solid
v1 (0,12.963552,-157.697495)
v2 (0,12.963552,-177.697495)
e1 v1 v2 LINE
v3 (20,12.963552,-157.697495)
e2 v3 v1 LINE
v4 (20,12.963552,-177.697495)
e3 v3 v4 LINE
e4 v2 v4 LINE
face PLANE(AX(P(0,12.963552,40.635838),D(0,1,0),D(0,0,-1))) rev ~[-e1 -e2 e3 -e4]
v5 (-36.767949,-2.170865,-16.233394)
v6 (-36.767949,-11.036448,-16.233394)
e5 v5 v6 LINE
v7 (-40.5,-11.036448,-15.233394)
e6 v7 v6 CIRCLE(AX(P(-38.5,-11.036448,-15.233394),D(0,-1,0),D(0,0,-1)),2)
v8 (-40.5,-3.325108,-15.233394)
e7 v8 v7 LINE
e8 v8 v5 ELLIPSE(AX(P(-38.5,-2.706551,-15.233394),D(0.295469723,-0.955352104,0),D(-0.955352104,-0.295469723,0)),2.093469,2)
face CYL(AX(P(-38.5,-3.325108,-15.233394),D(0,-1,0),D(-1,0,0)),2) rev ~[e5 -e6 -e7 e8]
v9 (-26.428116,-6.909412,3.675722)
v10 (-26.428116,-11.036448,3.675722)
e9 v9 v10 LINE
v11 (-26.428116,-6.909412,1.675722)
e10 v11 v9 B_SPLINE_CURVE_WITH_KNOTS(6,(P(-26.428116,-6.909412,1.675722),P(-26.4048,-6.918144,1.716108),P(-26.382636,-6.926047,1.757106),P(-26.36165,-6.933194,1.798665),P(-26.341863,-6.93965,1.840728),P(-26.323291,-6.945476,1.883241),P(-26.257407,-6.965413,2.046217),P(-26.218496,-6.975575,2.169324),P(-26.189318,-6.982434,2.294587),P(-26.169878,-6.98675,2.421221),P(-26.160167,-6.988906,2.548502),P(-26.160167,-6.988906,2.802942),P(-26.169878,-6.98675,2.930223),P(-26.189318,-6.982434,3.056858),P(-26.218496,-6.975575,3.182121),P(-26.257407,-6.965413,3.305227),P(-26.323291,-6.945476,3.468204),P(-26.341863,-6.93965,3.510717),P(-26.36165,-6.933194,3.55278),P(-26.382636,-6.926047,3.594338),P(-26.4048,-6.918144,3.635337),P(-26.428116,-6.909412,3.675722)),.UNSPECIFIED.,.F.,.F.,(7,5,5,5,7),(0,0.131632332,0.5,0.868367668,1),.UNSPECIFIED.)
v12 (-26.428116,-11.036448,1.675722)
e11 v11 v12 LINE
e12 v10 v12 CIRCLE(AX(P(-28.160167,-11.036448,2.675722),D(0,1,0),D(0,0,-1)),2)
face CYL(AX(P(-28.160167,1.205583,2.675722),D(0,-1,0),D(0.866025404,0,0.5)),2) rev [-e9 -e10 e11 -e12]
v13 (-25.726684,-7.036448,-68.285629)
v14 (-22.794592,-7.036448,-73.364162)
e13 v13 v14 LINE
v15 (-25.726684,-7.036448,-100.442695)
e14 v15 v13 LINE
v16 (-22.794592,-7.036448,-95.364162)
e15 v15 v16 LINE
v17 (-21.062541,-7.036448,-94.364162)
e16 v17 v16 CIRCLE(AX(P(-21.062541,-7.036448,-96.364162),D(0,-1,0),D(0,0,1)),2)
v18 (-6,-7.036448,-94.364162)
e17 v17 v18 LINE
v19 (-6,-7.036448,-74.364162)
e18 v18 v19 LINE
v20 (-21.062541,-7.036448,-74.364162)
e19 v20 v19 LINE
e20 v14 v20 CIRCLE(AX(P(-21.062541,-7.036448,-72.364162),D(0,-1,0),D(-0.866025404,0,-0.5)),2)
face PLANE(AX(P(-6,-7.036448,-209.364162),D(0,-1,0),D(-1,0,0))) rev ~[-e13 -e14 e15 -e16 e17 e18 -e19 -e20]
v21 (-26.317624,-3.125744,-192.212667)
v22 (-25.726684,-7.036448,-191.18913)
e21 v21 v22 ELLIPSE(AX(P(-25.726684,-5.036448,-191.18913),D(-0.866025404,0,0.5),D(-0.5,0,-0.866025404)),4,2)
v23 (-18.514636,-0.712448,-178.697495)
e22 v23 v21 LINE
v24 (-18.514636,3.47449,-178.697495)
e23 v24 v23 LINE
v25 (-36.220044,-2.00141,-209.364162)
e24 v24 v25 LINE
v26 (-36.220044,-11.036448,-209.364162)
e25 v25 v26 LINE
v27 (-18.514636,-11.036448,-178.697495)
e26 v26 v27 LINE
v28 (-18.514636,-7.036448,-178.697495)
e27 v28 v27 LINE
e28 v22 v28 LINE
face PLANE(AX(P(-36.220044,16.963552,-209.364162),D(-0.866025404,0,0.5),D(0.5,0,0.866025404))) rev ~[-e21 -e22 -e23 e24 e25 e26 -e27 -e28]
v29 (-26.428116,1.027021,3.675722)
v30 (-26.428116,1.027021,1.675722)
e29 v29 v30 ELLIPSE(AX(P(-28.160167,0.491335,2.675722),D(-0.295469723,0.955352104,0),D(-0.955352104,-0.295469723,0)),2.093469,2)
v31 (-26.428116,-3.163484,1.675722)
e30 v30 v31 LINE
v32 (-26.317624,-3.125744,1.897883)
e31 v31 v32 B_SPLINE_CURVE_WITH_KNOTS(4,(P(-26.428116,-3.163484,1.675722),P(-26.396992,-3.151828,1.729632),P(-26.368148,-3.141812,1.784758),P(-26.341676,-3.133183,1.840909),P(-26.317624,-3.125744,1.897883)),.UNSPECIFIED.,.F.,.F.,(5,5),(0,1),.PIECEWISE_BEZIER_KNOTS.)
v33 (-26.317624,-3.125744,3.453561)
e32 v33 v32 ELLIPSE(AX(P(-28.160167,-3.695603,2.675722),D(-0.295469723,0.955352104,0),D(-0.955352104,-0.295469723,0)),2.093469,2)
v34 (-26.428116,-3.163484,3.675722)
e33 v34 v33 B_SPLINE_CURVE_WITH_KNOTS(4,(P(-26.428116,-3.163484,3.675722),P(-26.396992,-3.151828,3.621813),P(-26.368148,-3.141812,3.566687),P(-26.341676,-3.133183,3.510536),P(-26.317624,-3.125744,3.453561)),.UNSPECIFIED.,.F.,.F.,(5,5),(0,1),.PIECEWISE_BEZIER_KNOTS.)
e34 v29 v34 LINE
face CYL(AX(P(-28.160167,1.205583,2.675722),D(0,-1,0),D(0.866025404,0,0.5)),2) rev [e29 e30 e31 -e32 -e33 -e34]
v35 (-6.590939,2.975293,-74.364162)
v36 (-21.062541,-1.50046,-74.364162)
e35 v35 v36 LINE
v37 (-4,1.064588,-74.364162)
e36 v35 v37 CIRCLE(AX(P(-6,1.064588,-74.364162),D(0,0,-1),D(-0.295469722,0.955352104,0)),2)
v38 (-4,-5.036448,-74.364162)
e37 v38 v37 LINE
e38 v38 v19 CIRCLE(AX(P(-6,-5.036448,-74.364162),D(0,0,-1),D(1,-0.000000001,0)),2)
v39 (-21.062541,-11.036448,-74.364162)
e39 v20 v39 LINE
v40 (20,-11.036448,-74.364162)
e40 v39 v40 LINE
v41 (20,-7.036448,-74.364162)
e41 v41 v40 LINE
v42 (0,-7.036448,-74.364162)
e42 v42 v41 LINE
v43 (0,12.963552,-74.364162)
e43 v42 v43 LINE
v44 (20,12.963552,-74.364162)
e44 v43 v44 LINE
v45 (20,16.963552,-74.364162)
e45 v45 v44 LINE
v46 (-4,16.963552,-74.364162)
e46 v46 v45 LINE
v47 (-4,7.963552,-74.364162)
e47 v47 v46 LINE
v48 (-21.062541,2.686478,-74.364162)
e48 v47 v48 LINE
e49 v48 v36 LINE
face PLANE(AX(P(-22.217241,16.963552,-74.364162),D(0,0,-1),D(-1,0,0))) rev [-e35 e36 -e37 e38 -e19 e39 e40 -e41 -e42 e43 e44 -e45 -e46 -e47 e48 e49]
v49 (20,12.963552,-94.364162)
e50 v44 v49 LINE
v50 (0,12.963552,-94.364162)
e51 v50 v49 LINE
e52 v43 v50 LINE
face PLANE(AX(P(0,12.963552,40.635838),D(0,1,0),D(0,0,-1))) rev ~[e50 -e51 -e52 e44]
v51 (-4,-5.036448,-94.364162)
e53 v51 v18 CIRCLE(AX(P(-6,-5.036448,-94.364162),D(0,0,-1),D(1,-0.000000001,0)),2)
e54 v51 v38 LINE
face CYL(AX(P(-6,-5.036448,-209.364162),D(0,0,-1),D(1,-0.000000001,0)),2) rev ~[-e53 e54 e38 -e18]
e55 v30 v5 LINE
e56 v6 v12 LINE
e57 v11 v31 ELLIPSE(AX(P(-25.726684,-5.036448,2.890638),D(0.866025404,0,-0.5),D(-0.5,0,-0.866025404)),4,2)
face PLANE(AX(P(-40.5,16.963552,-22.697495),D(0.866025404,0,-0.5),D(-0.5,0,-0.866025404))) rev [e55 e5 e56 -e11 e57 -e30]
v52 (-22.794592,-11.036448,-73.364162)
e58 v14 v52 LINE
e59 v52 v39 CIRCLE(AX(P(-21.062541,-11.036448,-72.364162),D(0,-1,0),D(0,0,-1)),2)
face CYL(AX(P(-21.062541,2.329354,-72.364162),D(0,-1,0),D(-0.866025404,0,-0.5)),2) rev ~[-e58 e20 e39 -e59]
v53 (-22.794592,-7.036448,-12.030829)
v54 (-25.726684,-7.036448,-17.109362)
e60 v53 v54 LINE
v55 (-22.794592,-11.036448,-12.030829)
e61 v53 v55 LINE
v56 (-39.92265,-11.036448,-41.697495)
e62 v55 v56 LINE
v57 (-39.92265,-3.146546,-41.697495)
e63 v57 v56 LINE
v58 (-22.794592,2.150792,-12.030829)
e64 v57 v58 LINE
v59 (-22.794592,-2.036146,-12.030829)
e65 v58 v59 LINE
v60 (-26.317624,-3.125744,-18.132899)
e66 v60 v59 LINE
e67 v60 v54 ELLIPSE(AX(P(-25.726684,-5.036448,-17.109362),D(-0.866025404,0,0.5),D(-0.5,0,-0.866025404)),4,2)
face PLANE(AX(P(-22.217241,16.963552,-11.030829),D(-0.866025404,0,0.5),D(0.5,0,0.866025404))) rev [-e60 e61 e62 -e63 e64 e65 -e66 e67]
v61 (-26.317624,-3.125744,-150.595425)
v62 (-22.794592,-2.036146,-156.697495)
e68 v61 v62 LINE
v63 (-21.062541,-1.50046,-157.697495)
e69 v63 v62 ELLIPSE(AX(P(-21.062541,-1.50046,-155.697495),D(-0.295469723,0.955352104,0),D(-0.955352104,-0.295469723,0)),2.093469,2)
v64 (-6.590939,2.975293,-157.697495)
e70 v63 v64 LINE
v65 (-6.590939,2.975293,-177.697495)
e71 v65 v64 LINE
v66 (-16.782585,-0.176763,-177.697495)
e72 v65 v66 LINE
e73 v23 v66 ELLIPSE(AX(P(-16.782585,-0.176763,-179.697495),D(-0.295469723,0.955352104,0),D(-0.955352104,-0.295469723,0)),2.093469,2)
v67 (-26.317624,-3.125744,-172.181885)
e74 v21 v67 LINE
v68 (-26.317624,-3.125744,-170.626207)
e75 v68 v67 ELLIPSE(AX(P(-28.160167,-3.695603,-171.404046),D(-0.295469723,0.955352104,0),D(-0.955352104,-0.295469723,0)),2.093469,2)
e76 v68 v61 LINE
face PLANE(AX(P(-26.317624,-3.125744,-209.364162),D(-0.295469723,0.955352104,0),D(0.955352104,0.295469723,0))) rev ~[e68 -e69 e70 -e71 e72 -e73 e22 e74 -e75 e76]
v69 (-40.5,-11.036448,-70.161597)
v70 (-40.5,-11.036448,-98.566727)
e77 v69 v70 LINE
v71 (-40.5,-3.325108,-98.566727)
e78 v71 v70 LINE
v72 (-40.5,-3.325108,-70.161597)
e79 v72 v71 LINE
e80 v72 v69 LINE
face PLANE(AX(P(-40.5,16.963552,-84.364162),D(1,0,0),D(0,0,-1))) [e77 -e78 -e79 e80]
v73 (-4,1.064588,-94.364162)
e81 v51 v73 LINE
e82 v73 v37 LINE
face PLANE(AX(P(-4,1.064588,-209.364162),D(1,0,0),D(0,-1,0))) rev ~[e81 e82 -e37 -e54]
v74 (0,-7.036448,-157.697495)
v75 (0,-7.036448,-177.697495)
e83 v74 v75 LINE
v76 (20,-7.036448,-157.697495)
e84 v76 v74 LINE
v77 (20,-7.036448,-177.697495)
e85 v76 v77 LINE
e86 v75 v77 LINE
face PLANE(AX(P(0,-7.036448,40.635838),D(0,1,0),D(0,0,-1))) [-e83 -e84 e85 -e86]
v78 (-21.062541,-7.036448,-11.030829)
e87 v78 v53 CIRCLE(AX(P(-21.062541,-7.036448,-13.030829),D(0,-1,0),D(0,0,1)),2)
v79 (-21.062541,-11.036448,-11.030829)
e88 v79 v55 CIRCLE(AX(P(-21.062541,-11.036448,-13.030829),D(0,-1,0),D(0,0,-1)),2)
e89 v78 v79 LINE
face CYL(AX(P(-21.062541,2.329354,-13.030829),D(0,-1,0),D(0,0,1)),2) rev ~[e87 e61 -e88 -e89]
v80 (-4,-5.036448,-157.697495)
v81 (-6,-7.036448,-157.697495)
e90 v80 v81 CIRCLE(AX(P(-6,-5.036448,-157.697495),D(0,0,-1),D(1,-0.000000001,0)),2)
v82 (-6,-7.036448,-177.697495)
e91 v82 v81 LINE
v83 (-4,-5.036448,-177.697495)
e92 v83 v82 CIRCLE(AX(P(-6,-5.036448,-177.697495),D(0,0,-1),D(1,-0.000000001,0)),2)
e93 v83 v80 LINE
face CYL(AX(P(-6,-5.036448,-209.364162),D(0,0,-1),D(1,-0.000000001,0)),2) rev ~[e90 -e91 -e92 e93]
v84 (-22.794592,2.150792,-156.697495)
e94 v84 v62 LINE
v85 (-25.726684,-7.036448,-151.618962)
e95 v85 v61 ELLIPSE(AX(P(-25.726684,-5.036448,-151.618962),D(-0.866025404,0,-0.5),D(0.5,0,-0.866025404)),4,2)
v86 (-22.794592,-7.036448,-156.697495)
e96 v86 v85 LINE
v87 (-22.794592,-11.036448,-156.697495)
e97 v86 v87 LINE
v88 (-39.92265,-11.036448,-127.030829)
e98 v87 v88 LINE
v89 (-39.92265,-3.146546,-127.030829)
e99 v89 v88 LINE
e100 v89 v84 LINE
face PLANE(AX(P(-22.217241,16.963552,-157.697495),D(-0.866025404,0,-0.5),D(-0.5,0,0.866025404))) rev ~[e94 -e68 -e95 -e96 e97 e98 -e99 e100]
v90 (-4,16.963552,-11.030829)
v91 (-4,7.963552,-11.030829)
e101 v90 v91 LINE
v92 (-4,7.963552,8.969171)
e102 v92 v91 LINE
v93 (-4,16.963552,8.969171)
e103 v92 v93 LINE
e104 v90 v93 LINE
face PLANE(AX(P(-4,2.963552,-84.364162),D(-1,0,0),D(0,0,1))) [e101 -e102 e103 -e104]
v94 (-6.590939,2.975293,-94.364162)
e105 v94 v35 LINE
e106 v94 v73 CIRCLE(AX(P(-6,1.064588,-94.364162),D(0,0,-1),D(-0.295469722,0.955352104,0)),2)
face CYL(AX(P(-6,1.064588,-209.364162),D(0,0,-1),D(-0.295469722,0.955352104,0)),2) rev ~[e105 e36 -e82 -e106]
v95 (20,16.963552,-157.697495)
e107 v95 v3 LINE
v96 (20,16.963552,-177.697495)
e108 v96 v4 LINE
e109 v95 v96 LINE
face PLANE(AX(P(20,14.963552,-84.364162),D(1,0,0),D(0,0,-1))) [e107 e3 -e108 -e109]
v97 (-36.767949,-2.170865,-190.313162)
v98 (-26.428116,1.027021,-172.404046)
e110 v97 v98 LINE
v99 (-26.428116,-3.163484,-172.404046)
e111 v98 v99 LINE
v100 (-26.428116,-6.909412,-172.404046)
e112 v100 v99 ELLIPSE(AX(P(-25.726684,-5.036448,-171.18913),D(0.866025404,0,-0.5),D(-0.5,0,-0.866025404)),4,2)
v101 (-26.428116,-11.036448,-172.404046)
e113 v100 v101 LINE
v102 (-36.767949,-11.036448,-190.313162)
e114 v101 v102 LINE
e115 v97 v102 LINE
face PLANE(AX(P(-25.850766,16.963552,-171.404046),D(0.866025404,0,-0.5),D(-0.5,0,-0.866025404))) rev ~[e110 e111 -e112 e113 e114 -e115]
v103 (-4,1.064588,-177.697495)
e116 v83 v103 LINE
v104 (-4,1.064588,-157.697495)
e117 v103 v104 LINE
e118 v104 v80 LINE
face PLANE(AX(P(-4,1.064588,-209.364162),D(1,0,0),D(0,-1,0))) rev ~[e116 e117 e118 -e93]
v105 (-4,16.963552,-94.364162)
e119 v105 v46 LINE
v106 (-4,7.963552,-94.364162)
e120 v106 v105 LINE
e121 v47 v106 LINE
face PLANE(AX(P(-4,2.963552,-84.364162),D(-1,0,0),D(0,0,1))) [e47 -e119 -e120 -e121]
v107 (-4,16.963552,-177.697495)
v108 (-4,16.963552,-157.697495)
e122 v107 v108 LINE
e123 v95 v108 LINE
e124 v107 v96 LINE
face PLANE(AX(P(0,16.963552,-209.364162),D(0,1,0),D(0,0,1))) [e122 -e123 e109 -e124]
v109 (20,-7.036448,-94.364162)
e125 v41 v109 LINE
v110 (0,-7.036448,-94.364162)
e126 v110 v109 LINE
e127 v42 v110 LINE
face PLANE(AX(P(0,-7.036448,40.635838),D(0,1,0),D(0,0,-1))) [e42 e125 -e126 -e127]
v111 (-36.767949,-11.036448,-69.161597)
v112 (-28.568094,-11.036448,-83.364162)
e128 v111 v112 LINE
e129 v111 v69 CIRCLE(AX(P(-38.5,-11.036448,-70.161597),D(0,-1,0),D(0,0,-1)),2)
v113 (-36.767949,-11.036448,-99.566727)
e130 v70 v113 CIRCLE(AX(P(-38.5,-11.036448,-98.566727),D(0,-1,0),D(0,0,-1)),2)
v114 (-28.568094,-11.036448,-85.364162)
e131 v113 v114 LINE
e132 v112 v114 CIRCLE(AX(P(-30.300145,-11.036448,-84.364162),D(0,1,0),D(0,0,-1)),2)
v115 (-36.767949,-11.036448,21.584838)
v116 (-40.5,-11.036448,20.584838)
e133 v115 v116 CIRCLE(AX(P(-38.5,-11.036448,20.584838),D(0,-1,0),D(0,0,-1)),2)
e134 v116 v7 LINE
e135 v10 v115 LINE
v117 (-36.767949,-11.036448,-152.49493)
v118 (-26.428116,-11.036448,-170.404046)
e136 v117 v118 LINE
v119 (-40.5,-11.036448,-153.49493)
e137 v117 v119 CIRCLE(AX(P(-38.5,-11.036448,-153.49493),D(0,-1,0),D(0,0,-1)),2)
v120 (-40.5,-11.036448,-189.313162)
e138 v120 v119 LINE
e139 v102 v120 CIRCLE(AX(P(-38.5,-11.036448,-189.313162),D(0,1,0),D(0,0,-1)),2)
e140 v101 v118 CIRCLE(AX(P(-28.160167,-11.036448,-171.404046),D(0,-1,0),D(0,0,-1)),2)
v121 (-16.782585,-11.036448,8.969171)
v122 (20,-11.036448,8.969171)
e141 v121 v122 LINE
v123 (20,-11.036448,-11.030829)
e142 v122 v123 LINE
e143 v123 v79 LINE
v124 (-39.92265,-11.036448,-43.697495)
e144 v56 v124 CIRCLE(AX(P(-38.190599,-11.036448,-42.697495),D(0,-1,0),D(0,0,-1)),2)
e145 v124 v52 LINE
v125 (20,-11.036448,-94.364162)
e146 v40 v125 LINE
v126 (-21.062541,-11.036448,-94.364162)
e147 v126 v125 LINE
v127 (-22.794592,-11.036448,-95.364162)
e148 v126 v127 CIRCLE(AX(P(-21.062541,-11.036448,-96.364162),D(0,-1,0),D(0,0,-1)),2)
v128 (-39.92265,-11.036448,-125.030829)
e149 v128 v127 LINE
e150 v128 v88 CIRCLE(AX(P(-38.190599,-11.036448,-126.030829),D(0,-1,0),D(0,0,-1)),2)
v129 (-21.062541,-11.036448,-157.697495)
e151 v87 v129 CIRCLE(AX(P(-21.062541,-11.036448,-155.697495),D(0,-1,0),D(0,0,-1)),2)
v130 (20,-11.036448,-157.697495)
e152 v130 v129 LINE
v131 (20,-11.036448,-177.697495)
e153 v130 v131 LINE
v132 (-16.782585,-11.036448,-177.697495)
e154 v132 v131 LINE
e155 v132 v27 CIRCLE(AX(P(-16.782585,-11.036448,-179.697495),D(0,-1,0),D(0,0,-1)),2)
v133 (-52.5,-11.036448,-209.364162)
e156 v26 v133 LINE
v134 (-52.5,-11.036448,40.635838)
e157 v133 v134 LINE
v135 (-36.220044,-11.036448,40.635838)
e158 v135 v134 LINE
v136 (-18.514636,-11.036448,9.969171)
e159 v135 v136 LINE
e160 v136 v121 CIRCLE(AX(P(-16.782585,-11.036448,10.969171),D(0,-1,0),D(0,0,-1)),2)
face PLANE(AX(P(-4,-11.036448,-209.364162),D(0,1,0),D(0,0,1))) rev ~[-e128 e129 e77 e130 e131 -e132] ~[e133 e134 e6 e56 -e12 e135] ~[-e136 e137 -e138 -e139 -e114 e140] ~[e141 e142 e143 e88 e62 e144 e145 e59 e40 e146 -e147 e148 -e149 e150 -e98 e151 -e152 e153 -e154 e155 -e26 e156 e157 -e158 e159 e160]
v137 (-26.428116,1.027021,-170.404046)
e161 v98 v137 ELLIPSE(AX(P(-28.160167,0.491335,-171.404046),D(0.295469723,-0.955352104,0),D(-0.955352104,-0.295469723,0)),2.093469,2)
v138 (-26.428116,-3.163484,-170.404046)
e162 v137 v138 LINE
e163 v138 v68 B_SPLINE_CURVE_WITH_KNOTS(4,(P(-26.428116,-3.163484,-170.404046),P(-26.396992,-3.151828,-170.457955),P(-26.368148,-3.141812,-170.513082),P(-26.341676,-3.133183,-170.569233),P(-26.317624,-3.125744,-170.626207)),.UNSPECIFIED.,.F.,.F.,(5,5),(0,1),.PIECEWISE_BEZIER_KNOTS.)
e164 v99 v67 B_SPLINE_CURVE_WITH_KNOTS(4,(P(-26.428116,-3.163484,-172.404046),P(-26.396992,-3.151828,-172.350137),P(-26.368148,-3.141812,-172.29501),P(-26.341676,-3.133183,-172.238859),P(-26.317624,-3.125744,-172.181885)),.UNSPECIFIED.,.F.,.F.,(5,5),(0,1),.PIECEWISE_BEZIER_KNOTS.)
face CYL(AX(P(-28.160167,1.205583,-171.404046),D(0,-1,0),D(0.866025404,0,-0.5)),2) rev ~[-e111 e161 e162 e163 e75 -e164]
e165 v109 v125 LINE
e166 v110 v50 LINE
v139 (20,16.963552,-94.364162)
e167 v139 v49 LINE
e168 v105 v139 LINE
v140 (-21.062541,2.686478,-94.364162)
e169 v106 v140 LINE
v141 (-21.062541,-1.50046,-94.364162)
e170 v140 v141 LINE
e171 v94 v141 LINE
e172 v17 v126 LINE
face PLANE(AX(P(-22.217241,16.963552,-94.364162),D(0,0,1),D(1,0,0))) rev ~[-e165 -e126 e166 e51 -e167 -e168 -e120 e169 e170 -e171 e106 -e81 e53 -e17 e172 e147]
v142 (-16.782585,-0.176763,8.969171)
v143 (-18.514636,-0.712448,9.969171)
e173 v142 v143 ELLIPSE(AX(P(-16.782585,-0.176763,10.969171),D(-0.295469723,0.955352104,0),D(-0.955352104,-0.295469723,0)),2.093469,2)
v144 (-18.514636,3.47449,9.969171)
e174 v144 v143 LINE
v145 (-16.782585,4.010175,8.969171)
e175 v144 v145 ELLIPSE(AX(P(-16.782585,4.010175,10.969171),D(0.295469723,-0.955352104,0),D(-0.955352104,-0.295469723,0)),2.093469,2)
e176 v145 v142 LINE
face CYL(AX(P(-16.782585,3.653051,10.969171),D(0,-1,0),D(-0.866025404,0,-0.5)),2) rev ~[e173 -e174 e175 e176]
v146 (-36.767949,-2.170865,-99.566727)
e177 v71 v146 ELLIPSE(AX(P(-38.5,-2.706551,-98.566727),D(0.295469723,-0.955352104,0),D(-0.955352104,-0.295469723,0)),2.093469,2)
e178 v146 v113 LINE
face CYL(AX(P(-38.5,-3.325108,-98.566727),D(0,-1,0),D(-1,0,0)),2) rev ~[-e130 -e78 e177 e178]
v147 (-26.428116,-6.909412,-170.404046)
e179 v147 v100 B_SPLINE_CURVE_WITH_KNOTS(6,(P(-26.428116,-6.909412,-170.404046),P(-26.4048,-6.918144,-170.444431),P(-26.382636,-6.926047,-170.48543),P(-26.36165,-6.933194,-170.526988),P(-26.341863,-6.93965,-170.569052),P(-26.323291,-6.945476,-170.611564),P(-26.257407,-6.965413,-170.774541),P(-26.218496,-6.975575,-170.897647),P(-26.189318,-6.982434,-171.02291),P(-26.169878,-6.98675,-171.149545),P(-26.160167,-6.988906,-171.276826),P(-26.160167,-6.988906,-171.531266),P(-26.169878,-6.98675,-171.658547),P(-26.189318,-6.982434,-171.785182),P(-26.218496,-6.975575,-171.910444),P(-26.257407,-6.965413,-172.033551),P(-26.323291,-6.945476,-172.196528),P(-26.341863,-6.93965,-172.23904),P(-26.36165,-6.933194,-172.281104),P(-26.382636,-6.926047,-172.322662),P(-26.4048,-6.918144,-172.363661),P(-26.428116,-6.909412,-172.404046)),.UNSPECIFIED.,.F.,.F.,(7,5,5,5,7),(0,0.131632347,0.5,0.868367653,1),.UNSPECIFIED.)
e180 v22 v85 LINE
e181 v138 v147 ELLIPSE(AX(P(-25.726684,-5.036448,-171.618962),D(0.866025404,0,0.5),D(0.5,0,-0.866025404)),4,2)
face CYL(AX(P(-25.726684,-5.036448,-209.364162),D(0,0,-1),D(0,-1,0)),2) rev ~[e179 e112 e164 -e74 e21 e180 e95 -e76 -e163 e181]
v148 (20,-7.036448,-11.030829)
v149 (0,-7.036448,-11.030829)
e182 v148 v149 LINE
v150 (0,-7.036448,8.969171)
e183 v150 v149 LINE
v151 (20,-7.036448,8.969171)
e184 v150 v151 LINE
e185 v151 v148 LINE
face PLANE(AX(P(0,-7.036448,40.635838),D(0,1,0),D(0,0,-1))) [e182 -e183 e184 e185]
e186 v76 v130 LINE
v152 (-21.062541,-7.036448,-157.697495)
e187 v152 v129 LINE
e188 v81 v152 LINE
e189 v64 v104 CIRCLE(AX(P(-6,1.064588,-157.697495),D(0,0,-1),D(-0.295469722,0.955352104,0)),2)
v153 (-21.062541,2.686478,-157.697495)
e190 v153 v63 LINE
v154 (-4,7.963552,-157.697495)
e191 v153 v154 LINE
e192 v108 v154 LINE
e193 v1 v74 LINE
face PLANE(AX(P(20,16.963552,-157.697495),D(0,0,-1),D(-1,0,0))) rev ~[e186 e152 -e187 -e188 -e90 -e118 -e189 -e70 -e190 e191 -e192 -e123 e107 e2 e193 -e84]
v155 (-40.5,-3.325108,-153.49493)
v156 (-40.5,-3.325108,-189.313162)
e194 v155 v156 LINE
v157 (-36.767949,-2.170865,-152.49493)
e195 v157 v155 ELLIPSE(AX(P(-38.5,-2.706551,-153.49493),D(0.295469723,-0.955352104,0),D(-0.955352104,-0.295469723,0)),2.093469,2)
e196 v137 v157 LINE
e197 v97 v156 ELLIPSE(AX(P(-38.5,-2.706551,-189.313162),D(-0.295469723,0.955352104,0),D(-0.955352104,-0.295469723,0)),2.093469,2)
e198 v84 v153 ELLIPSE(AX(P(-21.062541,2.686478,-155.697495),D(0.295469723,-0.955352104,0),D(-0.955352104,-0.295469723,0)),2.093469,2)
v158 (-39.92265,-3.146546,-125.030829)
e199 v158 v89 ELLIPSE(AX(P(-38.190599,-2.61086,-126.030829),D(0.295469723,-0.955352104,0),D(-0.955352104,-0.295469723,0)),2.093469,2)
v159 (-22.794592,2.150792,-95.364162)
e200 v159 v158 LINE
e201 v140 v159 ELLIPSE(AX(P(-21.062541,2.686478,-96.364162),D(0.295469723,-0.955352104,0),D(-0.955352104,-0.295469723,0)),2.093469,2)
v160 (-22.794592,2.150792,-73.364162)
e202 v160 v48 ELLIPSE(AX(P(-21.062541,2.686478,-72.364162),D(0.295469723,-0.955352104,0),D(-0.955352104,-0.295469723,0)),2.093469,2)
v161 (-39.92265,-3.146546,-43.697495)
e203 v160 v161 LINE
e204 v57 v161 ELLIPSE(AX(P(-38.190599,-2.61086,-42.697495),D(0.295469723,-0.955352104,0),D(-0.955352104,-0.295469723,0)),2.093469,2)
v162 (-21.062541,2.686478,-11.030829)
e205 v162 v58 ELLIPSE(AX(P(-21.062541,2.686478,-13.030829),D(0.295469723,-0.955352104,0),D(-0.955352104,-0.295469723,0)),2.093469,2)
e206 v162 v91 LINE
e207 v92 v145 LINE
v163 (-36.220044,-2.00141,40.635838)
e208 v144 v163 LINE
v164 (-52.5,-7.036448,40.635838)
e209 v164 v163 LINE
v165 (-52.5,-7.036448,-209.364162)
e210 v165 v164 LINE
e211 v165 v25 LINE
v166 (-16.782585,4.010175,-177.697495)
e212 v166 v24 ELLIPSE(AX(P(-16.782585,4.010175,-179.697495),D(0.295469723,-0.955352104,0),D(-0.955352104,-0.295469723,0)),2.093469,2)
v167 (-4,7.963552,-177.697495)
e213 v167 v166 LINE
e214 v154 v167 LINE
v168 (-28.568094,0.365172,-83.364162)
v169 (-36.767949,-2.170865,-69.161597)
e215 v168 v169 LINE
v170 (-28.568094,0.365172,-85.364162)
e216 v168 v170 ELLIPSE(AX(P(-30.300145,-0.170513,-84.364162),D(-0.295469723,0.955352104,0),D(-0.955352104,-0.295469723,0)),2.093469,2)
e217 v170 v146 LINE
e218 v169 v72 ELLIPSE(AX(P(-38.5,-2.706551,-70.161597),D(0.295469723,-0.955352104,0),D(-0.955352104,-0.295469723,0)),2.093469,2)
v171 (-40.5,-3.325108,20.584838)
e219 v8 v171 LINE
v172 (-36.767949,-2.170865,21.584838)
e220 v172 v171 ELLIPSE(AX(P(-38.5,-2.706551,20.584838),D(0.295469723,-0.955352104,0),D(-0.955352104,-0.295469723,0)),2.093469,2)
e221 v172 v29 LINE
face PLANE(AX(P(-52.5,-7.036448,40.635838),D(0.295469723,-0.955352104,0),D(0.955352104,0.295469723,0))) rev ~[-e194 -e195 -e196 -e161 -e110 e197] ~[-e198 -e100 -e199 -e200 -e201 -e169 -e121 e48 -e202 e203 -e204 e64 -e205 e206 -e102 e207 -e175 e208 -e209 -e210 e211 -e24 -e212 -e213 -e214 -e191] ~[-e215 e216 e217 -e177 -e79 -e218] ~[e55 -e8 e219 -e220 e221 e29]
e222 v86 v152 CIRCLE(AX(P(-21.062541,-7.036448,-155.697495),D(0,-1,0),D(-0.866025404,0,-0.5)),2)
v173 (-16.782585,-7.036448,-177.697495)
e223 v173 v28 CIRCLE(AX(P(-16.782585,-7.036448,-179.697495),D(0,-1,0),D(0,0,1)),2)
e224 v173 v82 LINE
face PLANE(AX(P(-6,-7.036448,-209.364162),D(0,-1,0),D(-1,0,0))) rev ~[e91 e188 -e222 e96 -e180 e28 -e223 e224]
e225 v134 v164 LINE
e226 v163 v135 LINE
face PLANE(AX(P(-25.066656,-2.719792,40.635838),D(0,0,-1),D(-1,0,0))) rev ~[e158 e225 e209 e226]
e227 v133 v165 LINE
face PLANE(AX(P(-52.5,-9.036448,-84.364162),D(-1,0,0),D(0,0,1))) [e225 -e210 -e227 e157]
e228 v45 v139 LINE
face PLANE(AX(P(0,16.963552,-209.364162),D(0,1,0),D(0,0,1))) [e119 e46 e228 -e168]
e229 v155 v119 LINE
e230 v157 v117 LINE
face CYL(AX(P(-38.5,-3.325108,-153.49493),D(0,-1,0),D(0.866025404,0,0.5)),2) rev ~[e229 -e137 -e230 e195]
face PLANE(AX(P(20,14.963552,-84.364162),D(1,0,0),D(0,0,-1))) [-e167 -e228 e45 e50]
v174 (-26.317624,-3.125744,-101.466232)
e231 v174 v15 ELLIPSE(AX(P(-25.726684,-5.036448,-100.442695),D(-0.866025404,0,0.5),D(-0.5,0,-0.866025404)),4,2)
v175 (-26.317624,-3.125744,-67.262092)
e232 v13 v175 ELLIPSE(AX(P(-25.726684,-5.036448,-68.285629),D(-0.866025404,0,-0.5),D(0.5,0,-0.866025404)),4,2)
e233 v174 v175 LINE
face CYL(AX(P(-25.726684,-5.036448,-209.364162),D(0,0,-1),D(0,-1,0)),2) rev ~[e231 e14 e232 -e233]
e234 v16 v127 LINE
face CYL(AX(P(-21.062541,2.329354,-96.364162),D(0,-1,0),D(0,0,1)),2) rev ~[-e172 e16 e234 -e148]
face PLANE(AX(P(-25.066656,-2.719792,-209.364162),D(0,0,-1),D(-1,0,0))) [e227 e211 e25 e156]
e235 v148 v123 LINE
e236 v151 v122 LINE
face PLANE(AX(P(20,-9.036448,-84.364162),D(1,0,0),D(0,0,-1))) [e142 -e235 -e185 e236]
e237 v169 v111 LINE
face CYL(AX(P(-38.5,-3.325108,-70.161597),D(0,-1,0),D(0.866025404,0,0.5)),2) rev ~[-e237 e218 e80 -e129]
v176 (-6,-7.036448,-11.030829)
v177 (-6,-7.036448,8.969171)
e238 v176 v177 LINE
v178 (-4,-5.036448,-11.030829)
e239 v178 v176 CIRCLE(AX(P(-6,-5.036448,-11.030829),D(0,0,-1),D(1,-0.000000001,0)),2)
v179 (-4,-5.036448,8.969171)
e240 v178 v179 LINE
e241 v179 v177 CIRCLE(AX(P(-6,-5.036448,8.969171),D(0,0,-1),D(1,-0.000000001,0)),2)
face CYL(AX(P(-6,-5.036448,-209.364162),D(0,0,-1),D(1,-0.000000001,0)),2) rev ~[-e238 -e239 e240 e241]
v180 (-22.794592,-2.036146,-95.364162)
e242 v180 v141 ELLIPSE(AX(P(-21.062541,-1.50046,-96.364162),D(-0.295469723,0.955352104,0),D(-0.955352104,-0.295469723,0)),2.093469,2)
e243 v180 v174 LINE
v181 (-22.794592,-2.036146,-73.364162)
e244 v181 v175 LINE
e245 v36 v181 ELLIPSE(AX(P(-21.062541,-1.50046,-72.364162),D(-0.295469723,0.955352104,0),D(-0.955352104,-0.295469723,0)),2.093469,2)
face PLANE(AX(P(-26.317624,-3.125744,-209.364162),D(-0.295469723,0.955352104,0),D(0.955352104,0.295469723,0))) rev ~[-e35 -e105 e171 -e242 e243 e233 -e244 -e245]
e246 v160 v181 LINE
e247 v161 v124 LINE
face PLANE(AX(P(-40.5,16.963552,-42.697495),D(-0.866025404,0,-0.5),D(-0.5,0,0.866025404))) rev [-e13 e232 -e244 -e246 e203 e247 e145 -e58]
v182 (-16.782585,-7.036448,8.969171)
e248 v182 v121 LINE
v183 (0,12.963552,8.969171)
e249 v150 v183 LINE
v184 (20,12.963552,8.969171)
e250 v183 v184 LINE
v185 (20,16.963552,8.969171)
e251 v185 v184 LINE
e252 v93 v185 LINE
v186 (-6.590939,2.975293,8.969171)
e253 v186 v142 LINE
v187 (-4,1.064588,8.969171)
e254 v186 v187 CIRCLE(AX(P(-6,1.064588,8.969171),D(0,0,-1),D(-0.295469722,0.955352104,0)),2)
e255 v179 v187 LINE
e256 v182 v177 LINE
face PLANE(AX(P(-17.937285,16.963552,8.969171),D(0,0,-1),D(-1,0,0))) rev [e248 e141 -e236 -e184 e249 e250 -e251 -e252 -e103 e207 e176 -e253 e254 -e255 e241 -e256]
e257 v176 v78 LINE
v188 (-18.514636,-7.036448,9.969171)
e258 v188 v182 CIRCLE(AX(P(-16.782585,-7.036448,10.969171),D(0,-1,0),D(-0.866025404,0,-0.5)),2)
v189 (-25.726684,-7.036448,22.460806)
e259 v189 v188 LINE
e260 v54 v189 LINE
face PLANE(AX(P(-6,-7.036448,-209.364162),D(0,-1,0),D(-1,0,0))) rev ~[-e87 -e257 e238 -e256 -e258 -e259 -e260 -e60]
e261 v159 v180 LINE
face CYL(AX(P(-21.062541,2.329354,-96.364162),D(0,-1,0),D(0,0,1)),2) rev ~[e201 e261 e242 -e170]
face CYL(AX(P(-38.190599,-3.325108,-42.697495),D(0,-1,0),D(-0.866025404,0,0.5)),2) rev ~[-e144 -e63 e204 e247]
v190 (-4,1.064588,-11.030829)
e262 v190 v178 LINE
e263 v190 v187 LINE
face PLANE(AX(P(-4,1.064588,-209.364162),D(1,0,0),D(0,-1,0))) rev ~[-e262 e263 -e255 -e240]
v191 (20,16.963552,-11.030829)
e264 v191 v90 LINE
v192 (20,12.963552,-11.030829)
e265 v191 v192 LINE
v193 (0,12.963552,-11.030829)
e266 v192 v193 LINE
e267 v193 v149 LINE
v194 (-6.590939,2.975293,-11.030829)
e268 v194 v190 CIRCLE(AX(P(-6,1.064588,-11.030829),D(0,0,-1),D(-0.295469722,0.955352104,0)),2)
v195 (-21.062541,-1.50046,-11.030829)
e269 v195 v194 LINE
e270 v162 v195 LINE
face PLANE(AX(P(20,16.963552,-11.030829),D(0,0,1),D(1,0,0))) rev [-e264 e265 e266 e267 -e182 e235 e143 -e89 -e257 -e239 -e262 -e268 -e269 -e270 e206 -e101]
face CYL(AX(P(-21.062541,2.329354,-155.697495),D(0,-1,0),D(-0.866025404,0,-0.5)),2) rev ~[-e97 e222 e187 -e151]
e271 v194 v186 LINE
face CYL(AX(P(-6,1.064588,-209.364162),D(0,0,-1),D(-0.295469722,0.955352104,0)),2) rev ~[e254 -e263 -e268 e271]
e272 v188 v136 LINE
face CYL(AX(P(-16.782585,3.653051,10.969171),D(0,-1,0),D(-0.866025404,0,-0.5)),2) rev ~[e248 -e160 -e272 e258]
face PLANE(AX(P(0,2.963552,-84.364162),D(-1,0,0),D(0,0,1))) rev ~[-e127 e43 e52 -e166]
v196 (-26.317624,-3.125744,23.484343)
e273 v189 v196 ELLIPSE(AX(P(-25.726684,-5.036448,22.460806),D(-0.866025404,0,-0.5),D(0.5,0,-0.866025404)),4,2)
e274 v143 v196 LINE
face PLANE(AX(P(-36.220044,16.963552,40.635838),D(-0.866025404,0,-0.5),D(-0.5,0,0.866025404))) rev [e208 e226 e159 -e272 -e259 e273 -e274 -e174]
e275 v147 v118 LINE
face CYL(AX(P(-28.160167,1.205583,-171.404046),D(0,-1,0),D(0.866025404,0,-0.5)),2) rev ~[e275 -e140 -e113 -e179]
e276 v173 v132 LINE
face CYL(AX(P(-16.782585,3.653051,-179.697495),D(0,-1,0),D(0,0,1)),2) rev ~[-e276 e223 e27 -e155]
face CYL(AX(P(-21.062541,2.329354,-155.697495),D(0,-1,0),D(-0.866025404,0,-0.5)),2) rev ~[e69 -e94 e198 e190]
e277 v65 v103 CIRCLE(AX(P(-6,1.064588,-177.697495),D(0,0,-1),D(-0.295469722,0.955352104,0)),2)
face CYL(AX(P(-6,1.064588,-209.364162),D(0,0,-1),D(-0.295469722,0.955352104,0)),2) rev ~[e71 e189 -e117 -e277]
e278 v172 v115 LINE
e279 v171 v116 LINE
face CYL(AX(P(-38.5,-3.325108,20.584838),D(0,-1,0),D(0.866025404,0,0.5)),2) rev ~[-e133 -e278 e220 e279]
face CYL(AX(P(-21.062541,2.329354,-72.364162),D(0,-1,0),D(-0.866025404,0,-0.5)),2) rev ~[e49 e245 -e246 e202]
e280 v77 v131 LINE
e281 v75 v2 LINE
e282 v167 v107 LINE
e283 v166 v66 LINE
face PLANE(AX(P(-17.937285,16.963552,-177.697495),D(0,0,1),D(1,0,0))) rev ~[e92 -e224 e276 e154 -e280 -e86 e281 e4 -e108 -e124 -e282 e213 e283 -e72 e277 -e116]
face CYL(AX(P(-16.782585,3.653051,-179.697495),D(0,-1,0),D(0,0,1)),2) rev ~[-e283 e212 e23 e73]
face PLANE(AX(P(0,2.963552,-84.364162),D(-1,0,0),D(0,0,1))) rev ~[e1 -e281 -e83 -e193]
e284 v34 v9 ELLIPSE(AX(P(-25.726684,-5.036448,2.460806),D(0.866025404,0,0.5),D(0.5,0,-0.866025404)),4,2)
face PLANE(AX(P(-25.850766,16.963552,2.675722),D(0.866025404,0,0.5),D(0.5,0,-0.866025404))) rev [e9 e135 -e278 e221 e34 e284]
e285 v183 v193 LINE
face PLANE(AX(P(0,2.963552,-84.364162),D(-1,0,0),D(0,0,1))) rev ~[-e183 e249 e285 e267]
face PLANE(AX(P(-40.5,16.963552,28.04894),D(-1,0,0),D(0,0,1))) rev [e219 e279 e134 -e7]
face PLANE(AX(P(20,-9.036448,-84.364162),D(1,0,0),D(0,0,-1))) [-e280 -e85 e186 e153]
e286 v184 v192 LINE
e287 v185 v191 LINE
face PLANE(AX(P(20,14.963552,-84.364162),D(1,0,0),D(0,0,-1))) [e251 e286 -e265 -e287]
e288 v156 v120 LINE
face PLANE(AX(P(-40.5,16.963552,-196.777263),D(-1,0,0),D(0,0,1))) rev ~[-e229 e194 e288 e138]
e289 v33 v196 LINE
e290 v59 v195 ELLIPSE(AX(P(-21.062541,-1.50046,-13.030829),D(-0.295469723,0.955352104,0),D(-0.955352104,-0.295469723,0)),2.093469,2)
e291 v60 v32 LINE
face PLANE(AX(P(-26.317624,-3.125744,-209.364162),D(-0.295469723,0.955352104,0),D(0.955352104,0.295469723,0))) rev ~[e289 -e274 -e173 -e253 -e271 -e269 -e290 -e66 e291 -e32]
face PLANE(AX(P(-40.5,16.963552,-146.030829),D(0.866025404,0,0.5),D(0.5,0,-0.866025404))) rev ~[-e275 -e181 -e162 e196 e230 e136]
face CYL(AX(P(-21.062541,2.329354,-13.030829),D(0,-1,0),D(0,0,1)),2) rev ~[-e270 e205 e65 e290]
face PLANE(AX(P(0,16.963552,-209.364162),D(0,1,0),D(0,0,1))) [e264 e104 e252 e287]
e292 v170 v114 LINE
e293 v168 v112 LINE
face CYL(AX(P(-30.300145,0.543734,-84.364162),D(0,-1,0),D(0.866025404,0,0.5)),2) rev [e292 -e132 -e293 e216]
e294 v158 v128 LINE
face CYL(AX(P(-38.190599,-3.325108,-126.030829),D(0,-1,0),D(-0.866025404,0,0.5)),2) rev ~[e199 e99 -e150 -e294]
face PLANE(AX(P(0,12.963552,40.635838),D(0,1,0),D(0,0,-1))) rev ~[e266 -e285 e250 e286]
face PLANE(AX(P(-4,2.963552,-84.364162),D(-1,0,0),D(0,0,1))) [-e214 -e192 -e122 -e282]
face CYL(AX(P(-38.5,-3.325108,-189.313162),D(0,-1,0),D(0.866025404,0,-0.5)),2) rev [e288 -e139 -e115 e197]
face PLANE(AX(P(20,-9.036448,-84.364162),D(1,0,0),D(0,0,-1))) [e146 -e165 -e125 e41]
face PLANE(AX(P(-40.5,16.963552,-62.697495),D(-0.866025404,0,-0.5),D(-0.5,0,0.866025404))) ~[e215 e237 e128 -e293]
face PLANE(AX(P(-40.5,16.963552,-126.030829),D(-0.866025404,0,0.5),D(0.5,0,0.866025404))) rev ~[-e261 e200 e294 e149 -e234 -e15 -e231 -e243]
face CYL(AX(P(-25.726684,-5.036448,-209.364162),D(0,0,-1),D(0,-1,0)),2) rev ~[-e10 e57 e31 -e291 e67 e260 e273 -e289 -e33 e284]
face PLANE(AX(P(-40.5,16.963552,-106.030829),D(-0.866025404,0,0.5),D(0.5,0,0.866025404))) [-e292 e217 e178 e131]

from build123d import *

# Parameters (mm, degrees)
SKETCH_1_W          = 250
SKETCH_1_H          = 4
EXTRUDE_1_DEPTH     = 20
EXTRUDE_1_2_DEPTH   = 20
SKETCH_2_W          = 250
SKETCH_2_H          = 28
EXTRUDE_2_DEPTH     = 4
SKETCH_3_W          = 250
SKETCH_3_H          = 4
EXTRUDE_3_DEPTH     = 48.5
EXTRUDE_4_DEPTH     = 250
CUT_EXTRUDE_1_DEPTH = 55
FILLET_1_R          = 2
CUT_EXTRUDE_2_DEPTH = 250


with BuildPart() as part:
    # 草图1 → 凸台-拉伸1 (new body)
    with BuildSketch(Plane(origin=(0, 0, 0), x_dir=(0, 0, -1), z_dir=(1, 0, 0))):
        with Locations((84.36416185, 14.963552055)):
            Rectangle(SKETCH_1_W, SKETCH_1_H)
    extrude(amount=EXTRUDE_1_DEPTH)



with BuildPart() as body_2:
    # 草图1 → Extrude 1 2 (new body)
    with BuildSketch(Plane(origin=(0, 0, 0), x_dir=(0, 0, -1), z_dir=(1, 0, 0))):
        with Locations((84.36416185, -9.036447945)):
            Rectangle(SKETCH_1_W, SKETCH_1_H)
    extrude(amount=EXTRUDE_1_2_DEPTH)


with BuildPart() as part_1:
    add(part.part)

    add(body_2.part)  # 凸台-拉伸2 merges body 2
    # 草图2 → 凸台-拉伸2 (add)
    with BuildSketch(Plane.ZY):
        with Locations((-84.36416185, 2.963552055)):
            Rectangle(SKETCH_2_W, SKETCH_2_H)
    extrude(amount=EXTRUDE_2_DEPTH)

    # 草图3 → 凸台-拉伸3 (add)
    with BuildSketch(Plane.ZY.offset(4)):
        with Locations((-84.36416185, -9.036447945)):
            Rectangle(SKETCH_3_W, SKETCH_3_H)
    extrude(amount=EXTRUDE_3_DEPTH)

    # 草图5 → 凸台-拉伸4 (add)
    with BuildSketch(Plane.XY.offset(40.63583815)):
        Polygon((-4, -7.036447945), (-52.5, -7.036447945), (-4, 7.963552055), align=None)
    extrude(amount=-EXTRUDE_4_DEPTH)

    # 草图7 → 切除-拉伸1 (cut)
    with BuildSketch(Plane(origin=(0, 16.963552055, 0), x_dir=(1, 0, 0), z_dir=(0, 1, 0))):
        Polygon((-36.220043801, 209.36416185), (-17.937285277, 177.697495183), (20, 177.697495183), (20, 209.36416185), align=None)
        Polygon((20, 157.697495183), (-22.217241476, 157.697495183), (-40.5, 126.030828516), (-22.217241476, 94.36416185), (20, 94.36416185), align=None)
        Polygon((-40.5, 196.77726344), (-40.5, 146.030828516), (-25.850766068, 171.404045978), align=None)
        Polygon((-40.5, 106.030828516), (-27.990744168, 84.36416185), (-40.5, 84.36416185), align=None)
    cut_extrude_1 = extrude(amount=-CUT_EXTRUDE_1_DEPTH, mode=Mode.SUBTRACT)

    # 镜向1: 切除-拉伸1 across plane
    add(cut_extrude_1.mirror(Plane(origin=(0, 0, -84.36416185), x_dir=(1, 0, 0), z_dir=(0, 0, -1))), mode=Mode.SUBTRACT)

    # 圆角1
    fillet_1_edges = [part_1.edges().sort_by_distance(p)[0] for p in [
        (-22.217241476, -4.353547142, -94.36416185),
        (-40.5, -7.180777842, -126.030828516),
        (-22.217241476, -4.353547142, -157.697495183),
        (-40.5, -7.180777842, -106.030828516),
        (-27.990744168, -5.246356837, -84.36416185),
        (-17.937285277, -3.691698245, -177.697495183),
        (-25.850766068, -4.915432388, 2.675722279),
        (-40.5, -7.180777842, 28.048939741),
        (-40.5, -7.180777842, -22.697495183),
        (-22.217241476, -4.353547142, -11.030828516),
        (-40.5, -7.180777842, -42.697495183),
        (-22.217241476, -4.353547142, -74.36416185),
        (-40.5, -7.180777842, -62.697495183),
        (-17.937285277, -3.691698245, 8.969171484),
        (-40.5, -7.180777842, -196.77726344),
        (-25.850766068, -4.915432388, -171.404045978),
        (-40.5, -7.180777842, -146.030828516),
    ]]
    fillet(fillet_1_edges, radius=FILLET_1_R)

    # 草图8 → 切除-拉伸2 (cut)
    with BuildSketch(Plane(origin=(0, 0, -209.36416185), x_dir=(-1, 0, 0), z_dir=(0, 0, -1))):
        with BuildLine():
            Line((4, 1.064588398), (4, -5.036447945))
            ThreePointArc((4, -5.036447945), (4.585786438, -6.450661507), (6, -7.036447945))
            Line((6, -7.036447945), (25.726684176, -7.036447945))
            ThreePointArc((25.726684176, -7.036447945), (27.704234228, -5.33527196), (26.317623622, -3.125743737))
            Line((26.317623622, -3.125743737), (6.590939446, 2.975292607))
            ThreePointArc((6.590939446, 2.975292607), (4.812961435, 2.674227937), (4, 1.064588398))
        make_face()
    extrude(amount=-CUT_EXTRUDE_2_DEPTH, mode=Mode.SUBTRACT)


solid = part_1.part
